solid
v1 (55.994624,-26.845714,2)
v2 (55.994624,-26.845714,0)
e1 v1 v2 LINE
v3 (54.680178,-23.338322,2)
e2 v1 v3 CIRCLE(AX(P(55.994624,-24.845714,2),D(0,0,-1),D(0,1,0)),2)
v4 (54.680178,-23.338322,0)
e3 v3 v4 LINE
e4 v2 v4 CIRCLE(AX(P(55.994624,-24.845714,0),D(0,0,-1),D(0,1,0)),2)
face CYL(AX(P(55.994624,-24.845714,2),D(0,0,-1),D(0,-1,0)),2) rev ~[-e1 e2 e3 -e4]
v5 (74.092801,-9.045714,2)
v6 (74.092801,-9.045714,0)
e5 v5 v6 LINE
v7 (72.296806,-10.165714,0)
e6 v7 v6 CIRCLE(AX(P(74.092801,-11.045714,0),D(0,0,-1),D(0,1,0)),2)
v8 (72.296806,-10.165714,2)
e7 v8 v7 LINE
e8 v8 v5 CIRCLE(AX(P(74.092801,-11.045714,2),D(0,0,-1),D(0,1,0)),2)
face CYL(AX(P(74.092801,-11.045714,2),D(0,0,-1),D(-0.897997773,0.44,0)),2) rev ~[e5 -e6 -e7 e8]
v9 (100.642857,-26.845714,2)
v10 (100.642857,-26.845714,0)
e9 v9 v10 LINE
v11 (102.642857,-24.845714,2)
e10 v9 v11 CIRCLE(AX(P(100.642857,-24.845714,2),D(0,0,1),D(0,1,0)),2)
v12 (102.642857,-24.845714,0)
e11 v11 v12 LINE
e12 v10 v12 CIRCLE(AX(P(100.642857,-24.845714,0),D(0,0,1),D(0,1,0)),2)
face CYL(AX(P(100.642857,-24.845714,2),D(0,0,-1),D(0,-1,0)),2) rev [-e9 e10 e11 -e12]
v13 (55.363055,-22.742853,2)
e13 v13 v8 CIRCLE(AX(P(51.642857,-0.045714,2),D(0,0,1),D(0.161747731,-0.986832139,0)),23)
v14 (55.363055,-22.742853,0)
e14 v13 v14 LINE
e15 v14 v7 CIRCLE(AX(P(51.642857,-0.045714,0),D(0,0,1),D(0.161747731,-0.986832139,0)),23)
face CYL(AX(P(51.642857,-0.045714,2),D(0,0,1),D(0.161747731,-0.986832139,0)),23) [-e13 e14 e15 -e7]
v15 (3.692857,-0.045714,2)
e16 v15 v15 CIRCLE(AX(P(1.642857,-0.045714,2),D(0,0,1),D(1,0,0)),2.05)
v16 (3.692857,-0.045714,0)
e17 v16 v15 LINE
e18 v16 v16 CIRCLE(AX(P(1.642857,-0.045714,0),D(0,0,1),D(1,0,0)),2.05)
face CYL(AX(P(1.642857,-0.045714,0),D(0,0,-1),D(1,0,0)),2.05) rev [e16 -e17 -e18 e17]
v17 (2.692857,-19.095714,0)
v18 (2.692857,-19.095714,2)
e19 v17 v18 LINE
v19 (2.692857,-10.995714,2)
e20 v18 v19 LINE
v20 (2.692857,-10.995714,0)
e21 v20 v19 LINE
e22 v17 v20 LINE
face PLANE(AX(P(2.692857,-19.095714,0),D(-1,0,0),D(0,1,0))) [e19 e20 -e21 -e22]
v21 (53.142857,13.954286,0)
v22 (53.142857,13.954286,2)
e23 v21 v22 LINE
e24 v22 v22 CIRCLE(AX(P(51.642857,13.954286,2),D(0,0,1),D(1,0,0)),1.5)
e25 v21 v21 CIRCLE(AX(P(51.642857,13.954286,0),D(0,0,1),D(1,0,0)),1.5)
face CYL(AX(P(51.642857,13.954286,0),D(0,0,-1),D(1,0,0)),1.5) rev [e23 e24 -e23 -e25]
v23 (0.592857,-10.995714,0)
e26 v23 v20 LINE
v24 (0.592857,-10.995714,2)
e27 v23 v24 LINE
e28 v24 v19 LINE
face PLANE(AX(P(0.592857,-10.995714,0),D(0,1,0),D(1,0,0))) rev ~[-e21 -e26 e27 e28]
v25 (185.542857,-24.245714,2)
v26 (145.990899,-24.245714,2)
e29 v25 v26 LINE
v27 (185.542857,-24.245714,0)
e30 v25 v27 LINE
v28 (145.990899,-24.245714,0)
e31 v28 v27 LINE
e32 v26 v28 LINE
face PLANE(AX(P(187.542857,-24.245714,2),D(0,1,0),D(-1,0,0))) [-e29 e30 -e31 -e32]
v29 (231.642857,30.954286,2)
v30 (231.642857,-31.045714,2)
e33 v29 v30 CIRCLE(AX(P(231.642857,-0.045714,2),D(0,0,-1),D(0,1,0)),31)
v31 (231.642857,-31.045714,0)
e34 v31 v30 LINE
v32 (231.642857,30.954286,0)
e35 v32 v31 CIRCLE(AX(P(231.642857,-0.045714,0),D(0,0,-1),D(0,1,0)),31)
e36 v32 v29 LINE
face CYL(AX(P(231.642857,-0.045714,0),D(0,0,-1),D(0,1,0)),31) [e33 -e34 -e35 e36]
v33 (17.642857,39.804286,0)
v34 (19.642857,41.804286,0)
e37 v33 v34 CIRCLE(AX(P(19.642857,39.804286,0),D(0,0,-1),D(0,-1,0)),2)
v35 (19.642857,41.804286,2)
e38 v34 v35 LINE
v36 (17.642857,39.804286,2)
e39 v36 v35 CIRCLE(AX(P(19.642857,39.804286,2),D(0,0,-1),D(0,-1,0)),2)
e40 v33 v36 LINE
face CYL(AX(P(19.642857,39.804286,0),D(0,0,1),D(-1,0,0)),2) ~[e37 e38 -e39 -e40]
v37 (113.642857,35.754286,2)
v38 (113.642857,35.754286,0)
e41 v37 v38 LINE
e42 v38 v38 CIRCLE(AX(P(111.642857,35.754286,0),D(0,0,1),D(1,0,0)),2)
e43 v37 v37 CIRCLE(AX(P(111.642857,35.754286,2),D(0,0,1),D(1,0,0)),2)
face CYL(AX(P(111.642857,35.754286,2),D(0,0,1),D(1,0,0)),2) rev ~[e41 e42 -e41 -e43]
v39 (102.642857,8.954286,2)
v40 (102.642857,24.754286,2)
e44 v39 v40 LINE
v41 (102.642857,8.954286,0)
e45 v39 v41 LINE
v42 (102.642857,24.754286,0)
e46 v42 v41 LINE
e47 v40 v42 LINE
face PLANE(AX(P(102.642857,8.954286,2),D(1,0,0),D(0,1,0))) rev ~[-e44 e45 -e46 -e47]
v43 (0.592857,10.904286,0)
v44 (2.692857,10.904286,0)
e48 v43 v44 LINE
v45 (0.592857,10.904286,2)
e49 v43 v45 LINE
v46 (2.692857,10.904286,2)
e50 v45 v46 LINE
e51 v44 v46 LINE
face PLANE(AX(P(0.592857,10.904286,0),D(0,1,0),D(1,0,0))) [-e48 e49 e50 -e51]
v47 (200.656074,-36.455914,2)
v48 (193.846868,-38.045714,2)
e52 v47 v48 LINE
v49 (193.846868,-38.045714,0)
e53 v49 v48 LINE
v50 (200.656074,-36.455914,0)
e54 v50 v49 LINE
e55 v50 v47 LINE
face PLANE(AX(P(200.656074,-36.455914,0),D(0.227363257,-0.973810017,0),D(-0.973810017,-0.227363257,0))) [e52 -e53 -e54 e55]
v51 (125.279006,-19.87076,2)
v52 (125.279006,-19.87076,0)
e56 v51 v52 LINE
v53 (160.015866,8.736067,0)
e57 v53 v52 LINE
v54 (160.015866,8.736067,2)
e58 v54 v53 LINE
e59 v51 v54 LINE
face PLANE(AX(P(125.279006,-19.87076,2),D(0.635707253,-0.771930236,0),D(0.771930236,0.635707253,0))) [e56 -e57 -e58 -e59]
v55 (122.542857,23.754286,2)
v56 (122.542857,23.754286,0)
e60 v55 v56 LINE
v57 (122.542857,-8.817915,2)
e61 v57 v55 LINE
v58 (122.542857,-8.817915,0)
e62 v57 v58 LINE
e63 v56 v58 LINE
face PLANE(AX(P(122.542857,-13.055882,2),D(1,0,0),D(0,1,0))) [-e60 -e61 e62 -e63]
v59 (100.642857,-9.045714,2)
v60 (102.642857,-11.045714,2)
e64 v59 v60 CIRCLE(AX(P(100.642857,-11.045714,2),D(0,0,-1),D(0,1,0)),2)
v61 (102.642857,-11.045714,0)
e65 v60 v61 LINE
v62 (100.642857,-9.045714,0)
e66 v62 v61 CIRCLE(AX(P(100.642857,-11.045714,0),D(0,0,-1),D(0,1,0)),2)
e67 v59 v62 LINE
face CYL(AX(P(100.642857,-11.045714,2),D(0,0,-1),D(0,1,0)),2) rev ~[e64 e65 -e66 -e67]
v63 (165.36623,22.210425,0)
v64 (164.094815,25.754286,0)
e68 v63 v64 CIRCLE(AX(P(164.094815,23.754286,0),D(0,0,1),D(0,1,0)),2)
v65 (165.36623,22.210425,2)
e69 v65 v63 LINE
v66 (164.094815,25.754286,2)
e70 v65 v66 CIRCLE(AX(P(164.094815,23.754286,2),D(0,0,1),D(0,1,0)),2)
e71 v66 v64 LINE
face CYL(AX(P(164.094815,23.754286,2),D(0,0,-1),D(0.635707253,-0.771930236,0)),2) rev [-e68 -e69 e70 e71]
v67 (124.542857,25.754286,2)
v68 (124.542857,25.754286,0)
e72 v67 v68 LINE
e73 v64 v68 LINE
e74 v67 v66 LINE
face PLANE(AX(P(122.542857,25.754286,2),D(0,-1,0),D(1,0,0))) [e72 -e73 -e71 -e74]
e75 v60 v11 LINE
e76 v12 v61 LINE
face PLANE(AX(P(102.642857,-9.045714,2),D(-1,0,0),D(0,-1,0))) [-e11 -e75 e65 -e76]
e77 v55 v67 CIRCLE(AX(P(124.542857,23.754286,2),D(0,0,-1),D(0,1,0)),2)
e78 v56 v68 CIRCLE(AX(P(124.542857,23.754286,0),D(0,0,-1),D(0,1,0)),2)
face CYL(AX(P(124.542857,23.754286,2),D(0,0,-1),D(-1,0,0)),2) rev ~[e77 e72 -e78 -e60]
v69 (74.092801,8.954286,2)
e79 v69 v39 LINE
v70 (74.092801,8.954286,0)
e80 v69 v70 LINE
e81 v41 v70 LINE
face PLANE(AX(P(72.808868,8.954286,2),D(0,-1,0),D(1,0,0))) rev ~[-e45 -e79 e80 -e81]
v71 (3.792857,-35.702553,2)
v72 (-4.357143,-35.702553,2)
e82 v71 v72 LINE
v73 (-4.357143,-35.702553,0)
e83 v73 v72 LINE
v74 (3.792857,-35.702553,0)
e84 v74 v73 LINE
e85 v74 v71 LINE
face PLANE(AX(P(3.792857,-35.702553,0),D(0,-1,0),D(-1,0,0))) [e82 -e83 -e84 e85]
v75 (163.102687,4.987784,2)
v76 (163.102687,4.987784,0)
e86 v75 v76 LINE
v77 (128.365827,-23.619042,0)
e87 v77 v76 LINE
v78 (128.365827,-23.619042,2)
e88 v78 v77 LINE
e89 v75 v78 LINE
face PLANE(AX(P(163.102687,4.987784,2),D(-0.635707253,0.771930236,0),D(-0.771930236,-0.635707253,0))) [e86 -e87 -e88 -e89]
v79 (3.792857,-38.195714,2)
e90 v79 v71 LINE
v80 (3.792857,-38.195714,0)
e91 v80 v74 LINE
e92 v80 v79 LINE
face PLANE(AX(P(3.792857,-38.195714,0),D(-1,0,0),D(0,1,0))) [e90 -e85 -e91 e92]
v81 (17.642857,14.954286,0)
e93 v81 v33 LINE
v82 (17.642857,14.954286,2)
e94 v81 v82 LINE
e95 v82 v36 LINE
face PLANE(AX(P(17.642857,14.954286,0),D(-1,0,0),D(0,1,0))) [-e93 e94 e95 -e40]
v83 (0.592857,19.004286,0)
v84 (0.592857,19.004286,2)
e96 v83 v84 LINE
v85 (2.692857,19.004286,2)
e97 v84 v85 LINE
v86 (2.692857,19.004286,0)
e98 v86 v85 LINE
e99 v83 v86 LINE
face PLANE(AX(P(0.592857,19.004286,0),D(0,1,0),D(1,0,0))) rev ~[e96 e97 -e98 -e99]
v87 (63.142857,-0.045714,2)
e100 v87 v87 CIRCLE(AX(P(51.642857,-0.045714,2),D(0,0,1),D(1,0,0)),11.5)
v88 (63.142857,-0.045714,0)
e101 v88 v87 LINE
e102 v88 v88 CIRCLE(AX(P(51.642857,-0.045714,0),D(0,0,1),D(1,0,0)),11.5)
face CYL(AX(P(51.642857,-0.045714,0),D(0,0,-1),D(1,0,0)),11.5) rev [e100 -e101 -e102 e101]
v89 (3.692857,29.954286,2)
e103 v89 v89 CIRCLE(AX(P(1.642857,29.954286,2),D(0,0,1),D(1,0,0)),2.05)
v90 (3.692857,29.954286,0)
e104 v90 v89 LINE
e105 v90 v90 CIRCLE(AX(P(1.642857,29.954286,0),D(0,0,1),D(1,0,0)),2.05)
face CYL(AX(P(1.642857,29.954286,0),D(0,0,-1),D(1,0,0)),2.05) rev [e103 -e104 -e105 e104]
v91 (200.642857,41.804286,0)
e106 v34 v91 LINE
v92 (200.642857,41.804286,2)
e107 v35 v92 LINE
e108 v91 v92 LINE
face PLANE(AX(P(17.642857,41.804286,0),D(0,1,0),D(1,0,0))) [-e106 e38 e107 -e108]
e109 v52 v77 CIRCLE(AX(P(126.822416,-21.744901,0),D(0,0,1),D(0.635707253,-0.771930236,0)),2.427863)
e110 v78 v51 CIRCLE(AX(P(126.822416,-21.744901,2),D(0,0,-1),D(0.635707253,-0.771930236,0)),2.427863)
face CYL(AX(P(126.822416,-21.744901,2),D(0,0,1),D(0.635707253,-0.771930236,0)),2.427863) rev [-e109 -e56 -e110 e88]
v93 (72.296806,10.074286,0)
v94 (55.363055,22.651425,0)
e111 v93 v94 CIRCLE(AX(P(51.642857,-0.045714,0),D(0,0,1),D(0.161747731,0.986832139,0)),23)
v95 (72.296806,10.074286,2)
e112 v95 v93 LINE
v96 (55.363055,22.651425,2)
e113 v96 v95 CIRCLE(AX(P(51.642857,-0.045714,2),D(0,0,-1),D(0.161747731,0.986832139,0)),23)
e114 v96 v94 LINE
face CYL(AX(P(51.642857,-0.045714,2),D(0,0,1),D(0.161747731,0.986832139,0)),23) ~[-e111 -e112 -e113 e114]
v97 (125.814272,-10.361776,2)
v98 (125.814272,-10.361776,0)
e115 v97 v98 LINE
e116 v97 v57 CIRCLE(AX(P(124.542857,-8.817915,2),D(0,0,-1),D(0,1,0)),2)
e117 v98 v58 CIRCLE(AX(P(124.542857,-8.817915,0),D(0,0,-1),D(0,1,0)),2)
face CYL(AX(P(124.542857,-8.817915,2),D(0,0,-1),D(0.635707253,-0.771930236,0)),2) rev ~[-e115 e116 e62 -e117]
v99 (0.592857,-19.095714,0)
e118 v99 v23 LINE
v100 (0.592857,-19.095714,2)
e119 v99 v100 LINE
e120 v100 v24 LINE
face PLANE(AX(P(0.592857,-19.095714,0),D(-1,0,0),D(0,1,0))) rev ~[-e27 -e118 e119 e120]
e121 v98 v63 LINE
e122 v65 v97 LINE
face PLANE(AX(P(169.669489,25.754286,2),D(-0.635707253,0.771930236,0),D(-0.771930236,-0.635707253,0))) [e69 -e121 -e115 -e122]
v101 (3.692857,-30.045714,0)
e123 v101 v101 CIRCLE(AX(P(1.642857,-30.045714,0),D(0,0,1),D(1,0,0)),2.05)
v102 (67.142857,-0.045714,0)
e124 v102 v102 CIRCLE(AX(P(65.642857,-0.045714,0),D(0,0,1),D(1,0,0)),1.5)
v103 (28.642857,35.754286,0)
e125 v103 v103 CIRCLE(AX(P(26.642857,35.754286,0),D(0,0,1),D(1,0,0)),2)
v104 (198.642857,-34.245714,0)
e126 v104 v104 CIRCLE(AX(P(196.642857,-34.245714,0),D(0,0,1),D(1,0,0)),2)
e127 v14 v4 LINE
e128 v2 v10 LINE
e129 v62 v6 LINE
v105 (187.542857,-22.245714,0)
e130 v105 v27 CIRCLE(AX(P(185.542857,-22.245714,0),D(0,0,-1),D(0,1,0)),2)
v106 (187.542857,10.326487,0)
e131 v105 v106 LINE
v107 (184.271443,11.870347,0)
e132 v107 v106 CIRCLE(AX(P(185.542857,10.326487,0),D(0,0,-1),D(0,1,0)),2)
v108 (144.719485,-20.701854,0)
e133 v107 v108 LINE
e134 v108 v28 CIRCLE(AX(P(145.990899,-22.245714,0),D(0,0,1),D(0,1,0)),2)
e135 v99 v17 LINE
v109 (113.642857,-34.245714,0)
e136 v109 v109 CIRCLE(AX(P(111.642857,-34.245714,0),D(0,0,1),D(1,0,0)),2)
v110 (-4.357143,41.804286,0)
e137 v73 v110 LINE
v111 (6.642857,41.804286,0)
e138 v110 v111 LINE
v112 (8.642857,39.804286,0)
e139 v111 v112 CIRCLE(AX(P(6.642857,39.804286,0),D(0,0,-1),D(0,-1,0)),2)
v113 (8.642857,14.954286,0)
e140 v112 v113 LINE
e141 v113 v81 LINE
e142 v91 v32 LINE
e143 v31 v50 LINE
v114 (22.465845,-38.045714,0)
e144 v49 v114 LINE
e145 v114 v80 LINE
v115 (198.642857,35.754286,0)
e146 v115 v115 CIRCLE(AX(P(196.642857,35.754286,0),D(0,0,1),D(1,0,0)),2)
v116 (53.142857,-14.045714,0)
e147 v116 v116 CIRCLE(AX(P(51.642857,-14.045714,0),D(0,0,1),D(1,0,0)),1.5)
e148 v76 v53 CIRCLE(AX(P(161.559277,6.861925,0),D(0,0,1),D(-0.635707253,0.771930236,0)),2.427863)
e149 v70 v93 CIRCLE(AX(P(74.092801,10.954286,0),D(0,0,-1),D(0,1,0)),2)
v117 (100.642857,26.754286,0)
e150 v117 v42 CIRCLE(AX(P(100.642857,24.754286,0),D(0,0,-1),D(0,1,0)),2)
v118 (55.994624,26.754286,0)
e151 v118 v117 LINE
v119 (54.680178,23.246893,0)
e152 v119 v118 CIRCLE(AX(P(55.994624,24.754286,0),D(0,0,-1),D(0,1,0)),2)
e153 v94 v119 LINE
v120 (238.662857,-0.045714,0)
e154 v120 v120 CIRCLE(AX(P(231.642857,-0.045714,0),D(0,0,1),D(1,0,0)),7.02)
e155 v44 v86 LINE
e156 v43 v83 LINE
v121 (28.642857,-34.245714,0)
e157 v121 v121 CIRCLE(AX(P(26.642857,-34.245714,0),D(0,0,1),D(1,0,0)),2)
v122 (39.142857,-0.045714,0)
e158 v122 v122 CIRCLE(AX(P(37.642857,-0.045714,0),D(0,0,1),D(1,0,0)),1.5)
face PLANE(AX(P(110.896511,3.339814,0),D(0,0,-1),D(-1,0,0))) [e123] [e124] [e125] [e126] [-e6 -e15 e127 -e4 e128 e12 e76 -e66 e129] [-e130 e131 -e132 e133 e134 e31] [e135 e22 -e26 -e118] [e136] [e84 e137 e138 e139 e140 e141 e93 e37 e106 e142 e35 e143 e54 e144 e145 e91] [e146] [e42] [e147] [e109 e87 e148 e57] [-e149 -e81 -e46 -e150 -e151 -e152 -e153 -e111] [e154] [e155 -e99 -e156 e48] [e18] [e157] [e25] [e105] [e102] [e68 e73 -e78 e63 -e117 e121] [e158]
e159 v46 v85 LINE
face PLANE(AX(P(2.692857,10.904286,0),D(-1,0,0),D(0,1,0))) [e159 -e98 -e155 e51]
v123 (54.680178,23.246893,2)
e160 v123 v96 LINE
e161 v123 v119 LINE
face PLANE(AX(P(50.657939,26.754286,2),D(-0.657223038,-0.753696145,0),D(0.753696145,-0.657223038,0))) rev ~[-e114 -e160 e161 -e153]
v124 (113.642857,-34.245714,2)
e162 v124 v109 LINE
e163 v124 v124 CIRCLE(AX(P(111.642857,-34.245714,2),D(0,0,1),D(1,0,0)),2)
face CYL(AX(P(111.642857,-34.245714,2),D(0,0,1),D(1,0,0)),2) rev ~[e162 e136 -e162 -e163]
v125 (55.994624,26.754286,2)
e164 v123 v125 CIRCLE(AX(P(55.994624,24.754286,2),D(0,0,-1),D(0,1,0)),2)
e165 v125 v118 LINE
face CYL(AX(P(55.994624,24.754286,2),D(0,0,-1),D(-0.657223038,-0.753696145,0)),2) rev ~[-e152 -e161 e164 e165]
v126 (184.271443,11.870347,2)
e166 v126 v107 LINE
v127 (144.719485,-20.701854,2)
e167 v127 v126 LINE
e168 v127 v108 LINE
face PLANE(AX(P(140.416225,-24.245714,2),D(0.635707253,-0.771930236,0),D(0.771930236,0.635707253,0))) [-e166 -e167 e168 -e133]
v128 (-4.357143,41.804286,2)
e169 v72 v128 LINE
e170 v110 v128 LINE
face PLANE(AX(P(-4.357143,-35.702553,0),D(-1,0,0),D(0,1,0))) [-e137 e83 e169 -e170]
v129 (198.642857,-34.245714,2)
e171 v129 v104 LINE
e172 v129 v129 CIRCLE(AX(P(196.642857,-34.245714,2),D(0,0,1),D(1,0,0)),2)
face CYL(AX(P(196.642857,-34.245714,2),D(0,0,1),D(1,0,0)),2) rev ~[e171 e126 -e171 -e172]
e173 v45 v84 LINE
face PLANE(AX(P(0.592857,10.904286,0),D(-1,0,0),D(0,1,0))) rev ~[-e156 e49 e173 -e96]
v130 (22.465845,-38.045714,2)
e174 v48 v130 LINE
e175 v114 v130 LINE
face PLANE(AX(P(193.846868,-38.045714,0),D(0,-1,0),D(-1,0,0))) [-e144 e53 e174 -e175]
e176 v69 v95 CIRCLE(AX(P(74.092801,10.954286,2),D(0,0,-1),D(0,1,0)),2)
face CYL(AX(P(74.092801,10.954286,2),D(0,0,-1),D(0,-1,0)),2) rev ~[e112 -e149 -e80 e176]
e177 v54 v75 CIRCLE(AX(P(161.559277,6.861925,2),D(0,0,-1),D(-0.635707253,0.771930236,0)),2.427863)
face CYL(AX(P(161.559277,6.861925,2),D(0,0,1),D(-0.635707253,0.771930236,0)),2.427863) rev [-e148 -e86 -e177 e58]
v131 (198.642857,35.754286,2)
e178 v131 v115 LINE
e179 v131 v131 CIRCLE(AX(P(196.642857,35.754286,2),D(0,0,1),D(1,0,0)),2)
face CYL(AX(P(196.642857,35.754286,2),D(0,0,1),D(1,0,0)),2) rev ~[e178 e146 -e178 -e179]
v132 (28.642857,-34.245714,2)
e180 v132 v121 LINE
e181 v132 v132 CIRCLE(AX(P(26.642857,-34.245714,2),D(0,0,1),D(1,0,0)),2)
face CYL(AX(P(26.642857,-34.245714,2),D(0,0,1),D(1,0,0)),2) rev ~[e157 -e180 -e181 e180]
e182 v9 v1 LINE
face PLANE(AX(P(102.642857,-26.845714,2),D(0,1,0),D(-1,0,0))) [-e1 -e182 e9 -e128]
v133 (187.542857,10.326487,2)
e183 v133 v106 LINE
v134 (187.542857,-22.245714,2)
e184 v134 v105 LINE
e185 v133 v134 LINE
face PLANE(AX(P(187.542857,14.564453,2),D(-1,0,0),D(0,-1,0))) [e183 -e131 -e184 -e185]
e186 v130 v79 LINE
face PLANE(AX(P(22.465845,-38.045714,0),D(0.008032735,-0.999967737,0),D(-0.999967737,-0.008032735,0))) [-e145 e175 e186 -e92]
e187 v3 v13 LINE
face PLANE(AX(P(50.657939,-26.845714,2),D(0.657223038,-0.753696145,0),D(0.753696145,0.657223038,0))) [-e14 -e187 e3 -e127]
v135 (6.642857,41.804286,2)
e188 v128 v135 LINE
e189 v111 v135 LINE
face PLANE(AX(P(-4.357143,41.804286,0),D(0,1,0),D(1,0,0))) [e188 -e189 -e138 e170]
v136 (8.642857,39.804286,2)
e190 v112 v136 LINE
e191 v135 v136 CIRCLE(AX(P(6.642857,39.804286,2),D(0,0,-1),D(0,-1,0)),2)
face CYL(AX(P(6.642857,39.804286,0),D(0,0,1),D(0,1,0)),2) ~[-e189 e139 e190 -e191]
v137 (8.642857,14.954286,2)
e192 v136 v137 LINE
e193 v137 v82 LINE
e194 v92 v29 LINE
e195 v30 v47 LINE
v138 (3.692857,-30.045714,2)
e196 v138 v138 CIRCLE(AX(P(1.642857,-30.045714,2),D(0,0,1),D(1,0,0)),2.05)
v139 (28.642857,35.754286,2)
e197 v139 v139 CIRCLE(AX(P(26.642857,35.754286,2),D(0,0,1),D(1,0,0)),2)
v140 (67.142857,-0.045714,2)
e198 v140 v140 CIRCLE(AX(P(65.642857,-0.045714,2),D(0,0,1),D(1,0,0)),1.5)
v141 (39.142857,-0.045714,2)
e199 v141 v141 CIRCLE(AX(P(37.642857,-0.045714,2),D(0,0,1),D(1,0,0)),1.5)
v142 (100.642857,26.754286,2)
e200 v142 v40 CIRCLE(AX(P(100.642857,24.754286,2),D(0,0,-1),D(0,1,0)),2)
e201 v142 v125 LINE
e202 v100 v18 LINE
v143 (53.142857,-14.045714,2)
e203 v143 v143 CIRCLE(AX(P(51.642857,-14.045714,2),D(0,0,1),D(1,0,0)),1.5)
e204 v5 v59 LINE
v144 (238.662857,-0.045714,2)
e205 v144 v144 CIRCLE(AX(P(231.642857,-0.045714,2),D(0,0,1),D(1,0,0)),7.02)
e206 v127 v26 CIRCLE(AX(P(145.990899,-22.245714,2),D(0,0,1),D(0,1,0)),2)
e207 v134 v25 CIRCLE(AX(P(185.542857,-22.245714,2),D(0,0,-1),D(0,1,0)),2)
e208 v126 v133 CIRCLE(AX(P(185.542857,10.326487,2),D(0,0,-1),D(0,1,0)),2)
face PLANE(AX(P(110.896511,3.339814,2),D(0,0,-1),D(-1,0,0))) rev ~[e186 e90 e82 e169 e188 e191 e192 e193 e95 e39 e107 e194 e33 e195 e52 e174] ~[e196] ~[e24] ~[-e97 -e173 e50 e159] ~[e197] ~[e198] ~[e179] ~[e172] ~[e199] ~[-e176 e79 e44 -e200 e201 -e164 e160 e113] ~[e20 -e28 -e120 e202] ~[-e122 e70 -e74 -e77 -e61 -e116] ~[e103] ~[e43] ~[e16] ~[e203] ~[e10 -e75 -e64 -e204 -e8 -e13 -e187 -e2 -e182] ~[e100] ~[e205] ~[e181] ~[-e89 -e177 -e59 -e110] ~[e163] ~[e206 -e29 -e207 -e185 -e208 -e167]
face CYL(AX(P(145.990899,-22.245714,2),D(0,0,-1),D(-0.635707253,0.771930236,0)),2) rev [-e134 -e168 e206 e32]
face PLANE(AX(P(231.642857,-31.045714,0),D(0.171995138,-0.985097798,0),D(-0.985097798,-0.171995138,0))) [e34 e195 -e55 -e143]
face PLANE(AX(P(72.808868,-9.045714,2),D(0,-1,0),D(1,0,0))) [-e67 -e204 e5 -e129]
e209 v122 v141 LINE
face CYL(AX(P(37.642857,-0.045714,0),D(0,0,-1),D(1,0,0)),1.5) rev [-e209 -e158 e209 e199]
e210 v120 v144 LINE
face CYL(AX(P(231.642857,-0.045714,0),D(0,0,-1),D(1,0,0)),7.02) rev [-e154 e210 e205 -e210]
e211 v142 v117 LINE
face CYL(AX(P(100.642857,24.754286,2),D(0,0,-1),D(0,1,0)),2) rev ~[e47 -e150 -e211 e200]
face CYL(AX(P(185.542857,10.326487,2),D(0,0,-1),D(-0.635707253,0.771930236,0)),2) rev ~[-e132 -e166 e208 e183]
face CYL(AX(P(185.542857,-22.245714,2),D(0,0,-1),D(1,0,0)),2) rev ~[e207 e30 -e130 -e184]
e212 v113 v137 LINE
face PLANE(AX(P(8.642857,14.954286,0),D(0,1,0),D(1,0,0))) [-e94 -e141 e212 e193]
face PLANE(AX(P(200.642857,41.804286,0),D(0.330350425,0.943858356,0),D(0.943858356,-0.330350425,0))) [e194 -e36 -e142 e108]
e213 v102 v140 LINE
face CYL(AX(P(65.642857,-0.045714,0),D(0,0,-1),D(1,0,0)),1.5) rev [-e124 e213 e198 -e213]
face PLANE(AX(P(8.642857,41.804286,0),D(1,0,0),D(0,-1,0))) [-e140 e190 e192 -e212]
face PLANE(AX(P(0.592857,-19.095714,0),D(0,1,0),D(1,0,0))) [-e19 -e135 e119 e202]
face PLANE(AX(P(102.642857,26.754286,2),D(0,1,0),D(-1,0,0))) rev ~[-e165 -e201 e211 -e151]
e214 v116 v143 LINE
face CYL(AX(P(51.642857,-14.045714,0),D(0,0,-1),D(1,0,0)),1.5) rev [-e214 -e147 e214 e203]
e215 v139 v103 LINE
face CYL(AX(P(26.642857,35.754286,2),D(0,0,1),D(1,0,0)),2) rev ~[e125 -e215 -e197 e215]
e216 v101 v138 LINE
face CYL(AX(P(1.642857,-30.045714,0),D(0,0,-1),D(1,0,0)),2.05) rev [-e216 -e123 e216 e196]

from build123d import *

# Parameters (mm, degrees)
SKETCH_1_R          = 2.05
SKETCH_1_R_2        = 11.5
SKETCH_1_R_3        = 1.5
SKETCH_1_R_4        = 7.02
SKETCH_1_W          = 2.1
SKETCH_1_H          = 8.1
EXTRUDE_1_DEPTH     = 2
SKETCH_2_R          = 2
CUT_EXTRUDE_1_DEPTH = 4
FILLET_1_R          = 2


with BuildPart() as part:
    # 草图1 → 凸台-拉伸1 (new body)
    with BuildSketch(Plane.XY):
        with BuildLine():
            Line((-4.357142857, -0.045714286), (-4.357142857, 41.804285714))
            Line((-4.357142857, 41.804285714), (8.642857143, 41.804285714))
            Line((8.642857143, 41.804285714), (8.642857143, 14.954285714))
            Line((8.642857143, 14.954285714), (17.642857143, 14.954285714))
            Line((17.642857143, 14.954285714), (17.642857143, 41.804285714))
            Line((17.642857143, 41.804285714), (200.642857143, 41.804285714))
            Line((200.642857143, 41.804285714), (231.642857143, 30.954285714))
            ThreePointArc((231.642857143, 30.954285714), (262.642857143, -0.045714286), (231.642857143, -31.045714286))
            Line((231.642857143, -31.045714286), (200.656073527, -36.45591431))
            Line((200.656073527, -36.45591431), (193.846868021, -38.045714286))
            Line((193.846868021, -38.045714286), (22.465844759, -38.045714286))
            Line((22.465844759, -38.045714286), (3.792857143, -38.195714286))
            Line((3.792857143, -38.195714286), (3.792857143, -35.702553436))
            Line((3.792857143, -35.702553436), (-4.357142857, -35.702553436))
            Line((-4.357142857, -35.702553436), (-4.357142857, -0.045714286))
        make_face()
        with Locations((1.642857143, 29.954285714)):
            Circle(SKETCH_1_R, mode=Mode.SUBTRACT)
        with Locations((1.642857143, -0.045714286)):
            Circle(SKETCH_1_R, mode=Mode.SUBTRACT)
        with Locations((1.642857143, -30.045714286)):
            Circle(SKETCH_1_R, mode=Mode.SUBTRACT)
        with Locations((51.642857143, -0.045714286)):
            Circle(SKETCH_1_R_2, mode=Mode.SUBTRACT)
        with Locations((51.642857143, -14.045714286)):
            Circle(SKETCH_1_R_3, mode=Mode.SUBTRACT)
        with Locations((37.642857143, -0.045714286)):
            Circle(SKETCH_1_R_3, mode=Mode.SUBTRACT)
        with Locations((51.642857143, 13.954285714)):
            Circle(SKETCH_1_R_3, mode=Mode.SUBTRACT)
        with Locations((65.642857143, -0.045714286)):
            Circle(SKETCH_1_R_3, mode=Mode.SUBTRACT)
        with Locations((231.642857143, -0.045714286)):
            Circle(SKETCH_1_R_4, mode=Mode.SUBTRACT)
        with Locations((1.642857143, 14.954285714)):
            Rectangle(SKETCH_1_W, SKETCH_1_H, mode=Mode.SUBTRACT)
        with Locations((1.642857143, -15.045714286)):
            Rectangle(SKETCH_1_W, SKETCH_1_H, mode=Mode.SUBTRACT)
    extrude(amount=EXTRUDE_1_DEPTH)

    # 草图2 → 切除-拉伸1 (cut)
    with BuildSketch(Plane.XY.offset(2)):
        with Locations((26.642857143, 35.754285714)):
            Circle(SKETCH_2_R)
        with Locations((111.642857143, 35.754285714)):
            Circle(SKETCH_2_R)
        with Locations((196.642857143, 35.754285714)):
            Circle(SKETCH_2_R)
        with Locations((111.642857143, -34.245714286)):
            Circle(SKETCH_2_R)
        with Locations((196.642857143, -34.245714286)):
            Circle(SKETCH_2_R)
        with Locations((26.642857143, -34.245714286)):
            Circle(SKETCH_2_R)
        Polygon((187.542857143, -24.245714286), (140.41622539, -24.245714286), (187.542857143, 14.56445304), align=None)
        Polygon((122.542857143, 25.754285714), (169.669488896, 25.754285714), (122.542857143, -13.055881612), align=None)
        with BuildLine():
            Line((72.808867631, 8.954285714), (102.642857143, 8.954285714))
            Line((102.642857143, 8.954285714), (102.642857143, 26.754285714))
            Line((102.642857143, 26.754285714), (50.657939371, 26.754285714))
            Line((50.657939371, 26.754285714), (55.363054959, 22.651424922))
            ThreePointArc((55.363054959, 22.651424922), (65.846157695, 18.044787461), (72.808867631, 8.954285714))
        make_face()
        with BuildLine():
            Line((102.642857143, -9.045714286), (102.642857143, -26.845714286))
            Line((102.642857143, -26.845714286), (50.657939371, -26.845714286))
            Line((50.657939371, -26.845714286), (55.363054959, -22.742853493))
            ThreePointArc((55.363054959, -22.742853493), (65.846157695, -18.136216032), (72.808867631, -9.045714286))
            Line((72.808867631, -9.045714286), (102.642857143, -9.045714286))
        make_face()
        with BuildLine():
            Line((125.279005787, -19.870759717), (160.01586639, 8.736066661))
            ThreePointArc((160.01586639, 8.736066661), (163.433418031, 8.405335857), (163.102687227, 4.987784217))
            Line((163.102687227, 4.987784217), (128.365826624, -23.619042162))
            ThreePointArc((128.365826624, -23.619042162), (124.948274984, -23.288311358), (125.279005787, -19.870759717))
        make_face()
    extrude(amount=-CUT_EXTRUDE_1_DEPTH, mode=Mode.SUBTRACT)

    # 圆角1
    fillet_1_edges = [part.edges().sort_by_distance(p)[0] for p in [
        (72.808867631, 8.954285714, 1),
        (50.657939371, 26.754285714, 1),
        (102.642857143, 26.754285714, 1),
        (122.542857143, -13.055881612, 1),
        (122.542857143, 25.754285714, 1),
        (169.669488896, 25.754285714, 1),
        (187.542857143, 14.56445304, 1),
        (187.542857143, -24.245714286, 1),
        (140.41622539, -24.245714286, 1),
        (102.642857143, -26.845714286, 1),
        (50.657939371, -26.845714286, 1),
        (72.808867631, -9.045714286, 1),
        (102.642857143, -9.045714286, 1),
        (8.642857143, 41.804285714, 1),
        (17.642857143, 41.804285714, 1),
    ]]
    fillet(fillet_1_edges, radius=FILLET_1_R)


solid = part.part
